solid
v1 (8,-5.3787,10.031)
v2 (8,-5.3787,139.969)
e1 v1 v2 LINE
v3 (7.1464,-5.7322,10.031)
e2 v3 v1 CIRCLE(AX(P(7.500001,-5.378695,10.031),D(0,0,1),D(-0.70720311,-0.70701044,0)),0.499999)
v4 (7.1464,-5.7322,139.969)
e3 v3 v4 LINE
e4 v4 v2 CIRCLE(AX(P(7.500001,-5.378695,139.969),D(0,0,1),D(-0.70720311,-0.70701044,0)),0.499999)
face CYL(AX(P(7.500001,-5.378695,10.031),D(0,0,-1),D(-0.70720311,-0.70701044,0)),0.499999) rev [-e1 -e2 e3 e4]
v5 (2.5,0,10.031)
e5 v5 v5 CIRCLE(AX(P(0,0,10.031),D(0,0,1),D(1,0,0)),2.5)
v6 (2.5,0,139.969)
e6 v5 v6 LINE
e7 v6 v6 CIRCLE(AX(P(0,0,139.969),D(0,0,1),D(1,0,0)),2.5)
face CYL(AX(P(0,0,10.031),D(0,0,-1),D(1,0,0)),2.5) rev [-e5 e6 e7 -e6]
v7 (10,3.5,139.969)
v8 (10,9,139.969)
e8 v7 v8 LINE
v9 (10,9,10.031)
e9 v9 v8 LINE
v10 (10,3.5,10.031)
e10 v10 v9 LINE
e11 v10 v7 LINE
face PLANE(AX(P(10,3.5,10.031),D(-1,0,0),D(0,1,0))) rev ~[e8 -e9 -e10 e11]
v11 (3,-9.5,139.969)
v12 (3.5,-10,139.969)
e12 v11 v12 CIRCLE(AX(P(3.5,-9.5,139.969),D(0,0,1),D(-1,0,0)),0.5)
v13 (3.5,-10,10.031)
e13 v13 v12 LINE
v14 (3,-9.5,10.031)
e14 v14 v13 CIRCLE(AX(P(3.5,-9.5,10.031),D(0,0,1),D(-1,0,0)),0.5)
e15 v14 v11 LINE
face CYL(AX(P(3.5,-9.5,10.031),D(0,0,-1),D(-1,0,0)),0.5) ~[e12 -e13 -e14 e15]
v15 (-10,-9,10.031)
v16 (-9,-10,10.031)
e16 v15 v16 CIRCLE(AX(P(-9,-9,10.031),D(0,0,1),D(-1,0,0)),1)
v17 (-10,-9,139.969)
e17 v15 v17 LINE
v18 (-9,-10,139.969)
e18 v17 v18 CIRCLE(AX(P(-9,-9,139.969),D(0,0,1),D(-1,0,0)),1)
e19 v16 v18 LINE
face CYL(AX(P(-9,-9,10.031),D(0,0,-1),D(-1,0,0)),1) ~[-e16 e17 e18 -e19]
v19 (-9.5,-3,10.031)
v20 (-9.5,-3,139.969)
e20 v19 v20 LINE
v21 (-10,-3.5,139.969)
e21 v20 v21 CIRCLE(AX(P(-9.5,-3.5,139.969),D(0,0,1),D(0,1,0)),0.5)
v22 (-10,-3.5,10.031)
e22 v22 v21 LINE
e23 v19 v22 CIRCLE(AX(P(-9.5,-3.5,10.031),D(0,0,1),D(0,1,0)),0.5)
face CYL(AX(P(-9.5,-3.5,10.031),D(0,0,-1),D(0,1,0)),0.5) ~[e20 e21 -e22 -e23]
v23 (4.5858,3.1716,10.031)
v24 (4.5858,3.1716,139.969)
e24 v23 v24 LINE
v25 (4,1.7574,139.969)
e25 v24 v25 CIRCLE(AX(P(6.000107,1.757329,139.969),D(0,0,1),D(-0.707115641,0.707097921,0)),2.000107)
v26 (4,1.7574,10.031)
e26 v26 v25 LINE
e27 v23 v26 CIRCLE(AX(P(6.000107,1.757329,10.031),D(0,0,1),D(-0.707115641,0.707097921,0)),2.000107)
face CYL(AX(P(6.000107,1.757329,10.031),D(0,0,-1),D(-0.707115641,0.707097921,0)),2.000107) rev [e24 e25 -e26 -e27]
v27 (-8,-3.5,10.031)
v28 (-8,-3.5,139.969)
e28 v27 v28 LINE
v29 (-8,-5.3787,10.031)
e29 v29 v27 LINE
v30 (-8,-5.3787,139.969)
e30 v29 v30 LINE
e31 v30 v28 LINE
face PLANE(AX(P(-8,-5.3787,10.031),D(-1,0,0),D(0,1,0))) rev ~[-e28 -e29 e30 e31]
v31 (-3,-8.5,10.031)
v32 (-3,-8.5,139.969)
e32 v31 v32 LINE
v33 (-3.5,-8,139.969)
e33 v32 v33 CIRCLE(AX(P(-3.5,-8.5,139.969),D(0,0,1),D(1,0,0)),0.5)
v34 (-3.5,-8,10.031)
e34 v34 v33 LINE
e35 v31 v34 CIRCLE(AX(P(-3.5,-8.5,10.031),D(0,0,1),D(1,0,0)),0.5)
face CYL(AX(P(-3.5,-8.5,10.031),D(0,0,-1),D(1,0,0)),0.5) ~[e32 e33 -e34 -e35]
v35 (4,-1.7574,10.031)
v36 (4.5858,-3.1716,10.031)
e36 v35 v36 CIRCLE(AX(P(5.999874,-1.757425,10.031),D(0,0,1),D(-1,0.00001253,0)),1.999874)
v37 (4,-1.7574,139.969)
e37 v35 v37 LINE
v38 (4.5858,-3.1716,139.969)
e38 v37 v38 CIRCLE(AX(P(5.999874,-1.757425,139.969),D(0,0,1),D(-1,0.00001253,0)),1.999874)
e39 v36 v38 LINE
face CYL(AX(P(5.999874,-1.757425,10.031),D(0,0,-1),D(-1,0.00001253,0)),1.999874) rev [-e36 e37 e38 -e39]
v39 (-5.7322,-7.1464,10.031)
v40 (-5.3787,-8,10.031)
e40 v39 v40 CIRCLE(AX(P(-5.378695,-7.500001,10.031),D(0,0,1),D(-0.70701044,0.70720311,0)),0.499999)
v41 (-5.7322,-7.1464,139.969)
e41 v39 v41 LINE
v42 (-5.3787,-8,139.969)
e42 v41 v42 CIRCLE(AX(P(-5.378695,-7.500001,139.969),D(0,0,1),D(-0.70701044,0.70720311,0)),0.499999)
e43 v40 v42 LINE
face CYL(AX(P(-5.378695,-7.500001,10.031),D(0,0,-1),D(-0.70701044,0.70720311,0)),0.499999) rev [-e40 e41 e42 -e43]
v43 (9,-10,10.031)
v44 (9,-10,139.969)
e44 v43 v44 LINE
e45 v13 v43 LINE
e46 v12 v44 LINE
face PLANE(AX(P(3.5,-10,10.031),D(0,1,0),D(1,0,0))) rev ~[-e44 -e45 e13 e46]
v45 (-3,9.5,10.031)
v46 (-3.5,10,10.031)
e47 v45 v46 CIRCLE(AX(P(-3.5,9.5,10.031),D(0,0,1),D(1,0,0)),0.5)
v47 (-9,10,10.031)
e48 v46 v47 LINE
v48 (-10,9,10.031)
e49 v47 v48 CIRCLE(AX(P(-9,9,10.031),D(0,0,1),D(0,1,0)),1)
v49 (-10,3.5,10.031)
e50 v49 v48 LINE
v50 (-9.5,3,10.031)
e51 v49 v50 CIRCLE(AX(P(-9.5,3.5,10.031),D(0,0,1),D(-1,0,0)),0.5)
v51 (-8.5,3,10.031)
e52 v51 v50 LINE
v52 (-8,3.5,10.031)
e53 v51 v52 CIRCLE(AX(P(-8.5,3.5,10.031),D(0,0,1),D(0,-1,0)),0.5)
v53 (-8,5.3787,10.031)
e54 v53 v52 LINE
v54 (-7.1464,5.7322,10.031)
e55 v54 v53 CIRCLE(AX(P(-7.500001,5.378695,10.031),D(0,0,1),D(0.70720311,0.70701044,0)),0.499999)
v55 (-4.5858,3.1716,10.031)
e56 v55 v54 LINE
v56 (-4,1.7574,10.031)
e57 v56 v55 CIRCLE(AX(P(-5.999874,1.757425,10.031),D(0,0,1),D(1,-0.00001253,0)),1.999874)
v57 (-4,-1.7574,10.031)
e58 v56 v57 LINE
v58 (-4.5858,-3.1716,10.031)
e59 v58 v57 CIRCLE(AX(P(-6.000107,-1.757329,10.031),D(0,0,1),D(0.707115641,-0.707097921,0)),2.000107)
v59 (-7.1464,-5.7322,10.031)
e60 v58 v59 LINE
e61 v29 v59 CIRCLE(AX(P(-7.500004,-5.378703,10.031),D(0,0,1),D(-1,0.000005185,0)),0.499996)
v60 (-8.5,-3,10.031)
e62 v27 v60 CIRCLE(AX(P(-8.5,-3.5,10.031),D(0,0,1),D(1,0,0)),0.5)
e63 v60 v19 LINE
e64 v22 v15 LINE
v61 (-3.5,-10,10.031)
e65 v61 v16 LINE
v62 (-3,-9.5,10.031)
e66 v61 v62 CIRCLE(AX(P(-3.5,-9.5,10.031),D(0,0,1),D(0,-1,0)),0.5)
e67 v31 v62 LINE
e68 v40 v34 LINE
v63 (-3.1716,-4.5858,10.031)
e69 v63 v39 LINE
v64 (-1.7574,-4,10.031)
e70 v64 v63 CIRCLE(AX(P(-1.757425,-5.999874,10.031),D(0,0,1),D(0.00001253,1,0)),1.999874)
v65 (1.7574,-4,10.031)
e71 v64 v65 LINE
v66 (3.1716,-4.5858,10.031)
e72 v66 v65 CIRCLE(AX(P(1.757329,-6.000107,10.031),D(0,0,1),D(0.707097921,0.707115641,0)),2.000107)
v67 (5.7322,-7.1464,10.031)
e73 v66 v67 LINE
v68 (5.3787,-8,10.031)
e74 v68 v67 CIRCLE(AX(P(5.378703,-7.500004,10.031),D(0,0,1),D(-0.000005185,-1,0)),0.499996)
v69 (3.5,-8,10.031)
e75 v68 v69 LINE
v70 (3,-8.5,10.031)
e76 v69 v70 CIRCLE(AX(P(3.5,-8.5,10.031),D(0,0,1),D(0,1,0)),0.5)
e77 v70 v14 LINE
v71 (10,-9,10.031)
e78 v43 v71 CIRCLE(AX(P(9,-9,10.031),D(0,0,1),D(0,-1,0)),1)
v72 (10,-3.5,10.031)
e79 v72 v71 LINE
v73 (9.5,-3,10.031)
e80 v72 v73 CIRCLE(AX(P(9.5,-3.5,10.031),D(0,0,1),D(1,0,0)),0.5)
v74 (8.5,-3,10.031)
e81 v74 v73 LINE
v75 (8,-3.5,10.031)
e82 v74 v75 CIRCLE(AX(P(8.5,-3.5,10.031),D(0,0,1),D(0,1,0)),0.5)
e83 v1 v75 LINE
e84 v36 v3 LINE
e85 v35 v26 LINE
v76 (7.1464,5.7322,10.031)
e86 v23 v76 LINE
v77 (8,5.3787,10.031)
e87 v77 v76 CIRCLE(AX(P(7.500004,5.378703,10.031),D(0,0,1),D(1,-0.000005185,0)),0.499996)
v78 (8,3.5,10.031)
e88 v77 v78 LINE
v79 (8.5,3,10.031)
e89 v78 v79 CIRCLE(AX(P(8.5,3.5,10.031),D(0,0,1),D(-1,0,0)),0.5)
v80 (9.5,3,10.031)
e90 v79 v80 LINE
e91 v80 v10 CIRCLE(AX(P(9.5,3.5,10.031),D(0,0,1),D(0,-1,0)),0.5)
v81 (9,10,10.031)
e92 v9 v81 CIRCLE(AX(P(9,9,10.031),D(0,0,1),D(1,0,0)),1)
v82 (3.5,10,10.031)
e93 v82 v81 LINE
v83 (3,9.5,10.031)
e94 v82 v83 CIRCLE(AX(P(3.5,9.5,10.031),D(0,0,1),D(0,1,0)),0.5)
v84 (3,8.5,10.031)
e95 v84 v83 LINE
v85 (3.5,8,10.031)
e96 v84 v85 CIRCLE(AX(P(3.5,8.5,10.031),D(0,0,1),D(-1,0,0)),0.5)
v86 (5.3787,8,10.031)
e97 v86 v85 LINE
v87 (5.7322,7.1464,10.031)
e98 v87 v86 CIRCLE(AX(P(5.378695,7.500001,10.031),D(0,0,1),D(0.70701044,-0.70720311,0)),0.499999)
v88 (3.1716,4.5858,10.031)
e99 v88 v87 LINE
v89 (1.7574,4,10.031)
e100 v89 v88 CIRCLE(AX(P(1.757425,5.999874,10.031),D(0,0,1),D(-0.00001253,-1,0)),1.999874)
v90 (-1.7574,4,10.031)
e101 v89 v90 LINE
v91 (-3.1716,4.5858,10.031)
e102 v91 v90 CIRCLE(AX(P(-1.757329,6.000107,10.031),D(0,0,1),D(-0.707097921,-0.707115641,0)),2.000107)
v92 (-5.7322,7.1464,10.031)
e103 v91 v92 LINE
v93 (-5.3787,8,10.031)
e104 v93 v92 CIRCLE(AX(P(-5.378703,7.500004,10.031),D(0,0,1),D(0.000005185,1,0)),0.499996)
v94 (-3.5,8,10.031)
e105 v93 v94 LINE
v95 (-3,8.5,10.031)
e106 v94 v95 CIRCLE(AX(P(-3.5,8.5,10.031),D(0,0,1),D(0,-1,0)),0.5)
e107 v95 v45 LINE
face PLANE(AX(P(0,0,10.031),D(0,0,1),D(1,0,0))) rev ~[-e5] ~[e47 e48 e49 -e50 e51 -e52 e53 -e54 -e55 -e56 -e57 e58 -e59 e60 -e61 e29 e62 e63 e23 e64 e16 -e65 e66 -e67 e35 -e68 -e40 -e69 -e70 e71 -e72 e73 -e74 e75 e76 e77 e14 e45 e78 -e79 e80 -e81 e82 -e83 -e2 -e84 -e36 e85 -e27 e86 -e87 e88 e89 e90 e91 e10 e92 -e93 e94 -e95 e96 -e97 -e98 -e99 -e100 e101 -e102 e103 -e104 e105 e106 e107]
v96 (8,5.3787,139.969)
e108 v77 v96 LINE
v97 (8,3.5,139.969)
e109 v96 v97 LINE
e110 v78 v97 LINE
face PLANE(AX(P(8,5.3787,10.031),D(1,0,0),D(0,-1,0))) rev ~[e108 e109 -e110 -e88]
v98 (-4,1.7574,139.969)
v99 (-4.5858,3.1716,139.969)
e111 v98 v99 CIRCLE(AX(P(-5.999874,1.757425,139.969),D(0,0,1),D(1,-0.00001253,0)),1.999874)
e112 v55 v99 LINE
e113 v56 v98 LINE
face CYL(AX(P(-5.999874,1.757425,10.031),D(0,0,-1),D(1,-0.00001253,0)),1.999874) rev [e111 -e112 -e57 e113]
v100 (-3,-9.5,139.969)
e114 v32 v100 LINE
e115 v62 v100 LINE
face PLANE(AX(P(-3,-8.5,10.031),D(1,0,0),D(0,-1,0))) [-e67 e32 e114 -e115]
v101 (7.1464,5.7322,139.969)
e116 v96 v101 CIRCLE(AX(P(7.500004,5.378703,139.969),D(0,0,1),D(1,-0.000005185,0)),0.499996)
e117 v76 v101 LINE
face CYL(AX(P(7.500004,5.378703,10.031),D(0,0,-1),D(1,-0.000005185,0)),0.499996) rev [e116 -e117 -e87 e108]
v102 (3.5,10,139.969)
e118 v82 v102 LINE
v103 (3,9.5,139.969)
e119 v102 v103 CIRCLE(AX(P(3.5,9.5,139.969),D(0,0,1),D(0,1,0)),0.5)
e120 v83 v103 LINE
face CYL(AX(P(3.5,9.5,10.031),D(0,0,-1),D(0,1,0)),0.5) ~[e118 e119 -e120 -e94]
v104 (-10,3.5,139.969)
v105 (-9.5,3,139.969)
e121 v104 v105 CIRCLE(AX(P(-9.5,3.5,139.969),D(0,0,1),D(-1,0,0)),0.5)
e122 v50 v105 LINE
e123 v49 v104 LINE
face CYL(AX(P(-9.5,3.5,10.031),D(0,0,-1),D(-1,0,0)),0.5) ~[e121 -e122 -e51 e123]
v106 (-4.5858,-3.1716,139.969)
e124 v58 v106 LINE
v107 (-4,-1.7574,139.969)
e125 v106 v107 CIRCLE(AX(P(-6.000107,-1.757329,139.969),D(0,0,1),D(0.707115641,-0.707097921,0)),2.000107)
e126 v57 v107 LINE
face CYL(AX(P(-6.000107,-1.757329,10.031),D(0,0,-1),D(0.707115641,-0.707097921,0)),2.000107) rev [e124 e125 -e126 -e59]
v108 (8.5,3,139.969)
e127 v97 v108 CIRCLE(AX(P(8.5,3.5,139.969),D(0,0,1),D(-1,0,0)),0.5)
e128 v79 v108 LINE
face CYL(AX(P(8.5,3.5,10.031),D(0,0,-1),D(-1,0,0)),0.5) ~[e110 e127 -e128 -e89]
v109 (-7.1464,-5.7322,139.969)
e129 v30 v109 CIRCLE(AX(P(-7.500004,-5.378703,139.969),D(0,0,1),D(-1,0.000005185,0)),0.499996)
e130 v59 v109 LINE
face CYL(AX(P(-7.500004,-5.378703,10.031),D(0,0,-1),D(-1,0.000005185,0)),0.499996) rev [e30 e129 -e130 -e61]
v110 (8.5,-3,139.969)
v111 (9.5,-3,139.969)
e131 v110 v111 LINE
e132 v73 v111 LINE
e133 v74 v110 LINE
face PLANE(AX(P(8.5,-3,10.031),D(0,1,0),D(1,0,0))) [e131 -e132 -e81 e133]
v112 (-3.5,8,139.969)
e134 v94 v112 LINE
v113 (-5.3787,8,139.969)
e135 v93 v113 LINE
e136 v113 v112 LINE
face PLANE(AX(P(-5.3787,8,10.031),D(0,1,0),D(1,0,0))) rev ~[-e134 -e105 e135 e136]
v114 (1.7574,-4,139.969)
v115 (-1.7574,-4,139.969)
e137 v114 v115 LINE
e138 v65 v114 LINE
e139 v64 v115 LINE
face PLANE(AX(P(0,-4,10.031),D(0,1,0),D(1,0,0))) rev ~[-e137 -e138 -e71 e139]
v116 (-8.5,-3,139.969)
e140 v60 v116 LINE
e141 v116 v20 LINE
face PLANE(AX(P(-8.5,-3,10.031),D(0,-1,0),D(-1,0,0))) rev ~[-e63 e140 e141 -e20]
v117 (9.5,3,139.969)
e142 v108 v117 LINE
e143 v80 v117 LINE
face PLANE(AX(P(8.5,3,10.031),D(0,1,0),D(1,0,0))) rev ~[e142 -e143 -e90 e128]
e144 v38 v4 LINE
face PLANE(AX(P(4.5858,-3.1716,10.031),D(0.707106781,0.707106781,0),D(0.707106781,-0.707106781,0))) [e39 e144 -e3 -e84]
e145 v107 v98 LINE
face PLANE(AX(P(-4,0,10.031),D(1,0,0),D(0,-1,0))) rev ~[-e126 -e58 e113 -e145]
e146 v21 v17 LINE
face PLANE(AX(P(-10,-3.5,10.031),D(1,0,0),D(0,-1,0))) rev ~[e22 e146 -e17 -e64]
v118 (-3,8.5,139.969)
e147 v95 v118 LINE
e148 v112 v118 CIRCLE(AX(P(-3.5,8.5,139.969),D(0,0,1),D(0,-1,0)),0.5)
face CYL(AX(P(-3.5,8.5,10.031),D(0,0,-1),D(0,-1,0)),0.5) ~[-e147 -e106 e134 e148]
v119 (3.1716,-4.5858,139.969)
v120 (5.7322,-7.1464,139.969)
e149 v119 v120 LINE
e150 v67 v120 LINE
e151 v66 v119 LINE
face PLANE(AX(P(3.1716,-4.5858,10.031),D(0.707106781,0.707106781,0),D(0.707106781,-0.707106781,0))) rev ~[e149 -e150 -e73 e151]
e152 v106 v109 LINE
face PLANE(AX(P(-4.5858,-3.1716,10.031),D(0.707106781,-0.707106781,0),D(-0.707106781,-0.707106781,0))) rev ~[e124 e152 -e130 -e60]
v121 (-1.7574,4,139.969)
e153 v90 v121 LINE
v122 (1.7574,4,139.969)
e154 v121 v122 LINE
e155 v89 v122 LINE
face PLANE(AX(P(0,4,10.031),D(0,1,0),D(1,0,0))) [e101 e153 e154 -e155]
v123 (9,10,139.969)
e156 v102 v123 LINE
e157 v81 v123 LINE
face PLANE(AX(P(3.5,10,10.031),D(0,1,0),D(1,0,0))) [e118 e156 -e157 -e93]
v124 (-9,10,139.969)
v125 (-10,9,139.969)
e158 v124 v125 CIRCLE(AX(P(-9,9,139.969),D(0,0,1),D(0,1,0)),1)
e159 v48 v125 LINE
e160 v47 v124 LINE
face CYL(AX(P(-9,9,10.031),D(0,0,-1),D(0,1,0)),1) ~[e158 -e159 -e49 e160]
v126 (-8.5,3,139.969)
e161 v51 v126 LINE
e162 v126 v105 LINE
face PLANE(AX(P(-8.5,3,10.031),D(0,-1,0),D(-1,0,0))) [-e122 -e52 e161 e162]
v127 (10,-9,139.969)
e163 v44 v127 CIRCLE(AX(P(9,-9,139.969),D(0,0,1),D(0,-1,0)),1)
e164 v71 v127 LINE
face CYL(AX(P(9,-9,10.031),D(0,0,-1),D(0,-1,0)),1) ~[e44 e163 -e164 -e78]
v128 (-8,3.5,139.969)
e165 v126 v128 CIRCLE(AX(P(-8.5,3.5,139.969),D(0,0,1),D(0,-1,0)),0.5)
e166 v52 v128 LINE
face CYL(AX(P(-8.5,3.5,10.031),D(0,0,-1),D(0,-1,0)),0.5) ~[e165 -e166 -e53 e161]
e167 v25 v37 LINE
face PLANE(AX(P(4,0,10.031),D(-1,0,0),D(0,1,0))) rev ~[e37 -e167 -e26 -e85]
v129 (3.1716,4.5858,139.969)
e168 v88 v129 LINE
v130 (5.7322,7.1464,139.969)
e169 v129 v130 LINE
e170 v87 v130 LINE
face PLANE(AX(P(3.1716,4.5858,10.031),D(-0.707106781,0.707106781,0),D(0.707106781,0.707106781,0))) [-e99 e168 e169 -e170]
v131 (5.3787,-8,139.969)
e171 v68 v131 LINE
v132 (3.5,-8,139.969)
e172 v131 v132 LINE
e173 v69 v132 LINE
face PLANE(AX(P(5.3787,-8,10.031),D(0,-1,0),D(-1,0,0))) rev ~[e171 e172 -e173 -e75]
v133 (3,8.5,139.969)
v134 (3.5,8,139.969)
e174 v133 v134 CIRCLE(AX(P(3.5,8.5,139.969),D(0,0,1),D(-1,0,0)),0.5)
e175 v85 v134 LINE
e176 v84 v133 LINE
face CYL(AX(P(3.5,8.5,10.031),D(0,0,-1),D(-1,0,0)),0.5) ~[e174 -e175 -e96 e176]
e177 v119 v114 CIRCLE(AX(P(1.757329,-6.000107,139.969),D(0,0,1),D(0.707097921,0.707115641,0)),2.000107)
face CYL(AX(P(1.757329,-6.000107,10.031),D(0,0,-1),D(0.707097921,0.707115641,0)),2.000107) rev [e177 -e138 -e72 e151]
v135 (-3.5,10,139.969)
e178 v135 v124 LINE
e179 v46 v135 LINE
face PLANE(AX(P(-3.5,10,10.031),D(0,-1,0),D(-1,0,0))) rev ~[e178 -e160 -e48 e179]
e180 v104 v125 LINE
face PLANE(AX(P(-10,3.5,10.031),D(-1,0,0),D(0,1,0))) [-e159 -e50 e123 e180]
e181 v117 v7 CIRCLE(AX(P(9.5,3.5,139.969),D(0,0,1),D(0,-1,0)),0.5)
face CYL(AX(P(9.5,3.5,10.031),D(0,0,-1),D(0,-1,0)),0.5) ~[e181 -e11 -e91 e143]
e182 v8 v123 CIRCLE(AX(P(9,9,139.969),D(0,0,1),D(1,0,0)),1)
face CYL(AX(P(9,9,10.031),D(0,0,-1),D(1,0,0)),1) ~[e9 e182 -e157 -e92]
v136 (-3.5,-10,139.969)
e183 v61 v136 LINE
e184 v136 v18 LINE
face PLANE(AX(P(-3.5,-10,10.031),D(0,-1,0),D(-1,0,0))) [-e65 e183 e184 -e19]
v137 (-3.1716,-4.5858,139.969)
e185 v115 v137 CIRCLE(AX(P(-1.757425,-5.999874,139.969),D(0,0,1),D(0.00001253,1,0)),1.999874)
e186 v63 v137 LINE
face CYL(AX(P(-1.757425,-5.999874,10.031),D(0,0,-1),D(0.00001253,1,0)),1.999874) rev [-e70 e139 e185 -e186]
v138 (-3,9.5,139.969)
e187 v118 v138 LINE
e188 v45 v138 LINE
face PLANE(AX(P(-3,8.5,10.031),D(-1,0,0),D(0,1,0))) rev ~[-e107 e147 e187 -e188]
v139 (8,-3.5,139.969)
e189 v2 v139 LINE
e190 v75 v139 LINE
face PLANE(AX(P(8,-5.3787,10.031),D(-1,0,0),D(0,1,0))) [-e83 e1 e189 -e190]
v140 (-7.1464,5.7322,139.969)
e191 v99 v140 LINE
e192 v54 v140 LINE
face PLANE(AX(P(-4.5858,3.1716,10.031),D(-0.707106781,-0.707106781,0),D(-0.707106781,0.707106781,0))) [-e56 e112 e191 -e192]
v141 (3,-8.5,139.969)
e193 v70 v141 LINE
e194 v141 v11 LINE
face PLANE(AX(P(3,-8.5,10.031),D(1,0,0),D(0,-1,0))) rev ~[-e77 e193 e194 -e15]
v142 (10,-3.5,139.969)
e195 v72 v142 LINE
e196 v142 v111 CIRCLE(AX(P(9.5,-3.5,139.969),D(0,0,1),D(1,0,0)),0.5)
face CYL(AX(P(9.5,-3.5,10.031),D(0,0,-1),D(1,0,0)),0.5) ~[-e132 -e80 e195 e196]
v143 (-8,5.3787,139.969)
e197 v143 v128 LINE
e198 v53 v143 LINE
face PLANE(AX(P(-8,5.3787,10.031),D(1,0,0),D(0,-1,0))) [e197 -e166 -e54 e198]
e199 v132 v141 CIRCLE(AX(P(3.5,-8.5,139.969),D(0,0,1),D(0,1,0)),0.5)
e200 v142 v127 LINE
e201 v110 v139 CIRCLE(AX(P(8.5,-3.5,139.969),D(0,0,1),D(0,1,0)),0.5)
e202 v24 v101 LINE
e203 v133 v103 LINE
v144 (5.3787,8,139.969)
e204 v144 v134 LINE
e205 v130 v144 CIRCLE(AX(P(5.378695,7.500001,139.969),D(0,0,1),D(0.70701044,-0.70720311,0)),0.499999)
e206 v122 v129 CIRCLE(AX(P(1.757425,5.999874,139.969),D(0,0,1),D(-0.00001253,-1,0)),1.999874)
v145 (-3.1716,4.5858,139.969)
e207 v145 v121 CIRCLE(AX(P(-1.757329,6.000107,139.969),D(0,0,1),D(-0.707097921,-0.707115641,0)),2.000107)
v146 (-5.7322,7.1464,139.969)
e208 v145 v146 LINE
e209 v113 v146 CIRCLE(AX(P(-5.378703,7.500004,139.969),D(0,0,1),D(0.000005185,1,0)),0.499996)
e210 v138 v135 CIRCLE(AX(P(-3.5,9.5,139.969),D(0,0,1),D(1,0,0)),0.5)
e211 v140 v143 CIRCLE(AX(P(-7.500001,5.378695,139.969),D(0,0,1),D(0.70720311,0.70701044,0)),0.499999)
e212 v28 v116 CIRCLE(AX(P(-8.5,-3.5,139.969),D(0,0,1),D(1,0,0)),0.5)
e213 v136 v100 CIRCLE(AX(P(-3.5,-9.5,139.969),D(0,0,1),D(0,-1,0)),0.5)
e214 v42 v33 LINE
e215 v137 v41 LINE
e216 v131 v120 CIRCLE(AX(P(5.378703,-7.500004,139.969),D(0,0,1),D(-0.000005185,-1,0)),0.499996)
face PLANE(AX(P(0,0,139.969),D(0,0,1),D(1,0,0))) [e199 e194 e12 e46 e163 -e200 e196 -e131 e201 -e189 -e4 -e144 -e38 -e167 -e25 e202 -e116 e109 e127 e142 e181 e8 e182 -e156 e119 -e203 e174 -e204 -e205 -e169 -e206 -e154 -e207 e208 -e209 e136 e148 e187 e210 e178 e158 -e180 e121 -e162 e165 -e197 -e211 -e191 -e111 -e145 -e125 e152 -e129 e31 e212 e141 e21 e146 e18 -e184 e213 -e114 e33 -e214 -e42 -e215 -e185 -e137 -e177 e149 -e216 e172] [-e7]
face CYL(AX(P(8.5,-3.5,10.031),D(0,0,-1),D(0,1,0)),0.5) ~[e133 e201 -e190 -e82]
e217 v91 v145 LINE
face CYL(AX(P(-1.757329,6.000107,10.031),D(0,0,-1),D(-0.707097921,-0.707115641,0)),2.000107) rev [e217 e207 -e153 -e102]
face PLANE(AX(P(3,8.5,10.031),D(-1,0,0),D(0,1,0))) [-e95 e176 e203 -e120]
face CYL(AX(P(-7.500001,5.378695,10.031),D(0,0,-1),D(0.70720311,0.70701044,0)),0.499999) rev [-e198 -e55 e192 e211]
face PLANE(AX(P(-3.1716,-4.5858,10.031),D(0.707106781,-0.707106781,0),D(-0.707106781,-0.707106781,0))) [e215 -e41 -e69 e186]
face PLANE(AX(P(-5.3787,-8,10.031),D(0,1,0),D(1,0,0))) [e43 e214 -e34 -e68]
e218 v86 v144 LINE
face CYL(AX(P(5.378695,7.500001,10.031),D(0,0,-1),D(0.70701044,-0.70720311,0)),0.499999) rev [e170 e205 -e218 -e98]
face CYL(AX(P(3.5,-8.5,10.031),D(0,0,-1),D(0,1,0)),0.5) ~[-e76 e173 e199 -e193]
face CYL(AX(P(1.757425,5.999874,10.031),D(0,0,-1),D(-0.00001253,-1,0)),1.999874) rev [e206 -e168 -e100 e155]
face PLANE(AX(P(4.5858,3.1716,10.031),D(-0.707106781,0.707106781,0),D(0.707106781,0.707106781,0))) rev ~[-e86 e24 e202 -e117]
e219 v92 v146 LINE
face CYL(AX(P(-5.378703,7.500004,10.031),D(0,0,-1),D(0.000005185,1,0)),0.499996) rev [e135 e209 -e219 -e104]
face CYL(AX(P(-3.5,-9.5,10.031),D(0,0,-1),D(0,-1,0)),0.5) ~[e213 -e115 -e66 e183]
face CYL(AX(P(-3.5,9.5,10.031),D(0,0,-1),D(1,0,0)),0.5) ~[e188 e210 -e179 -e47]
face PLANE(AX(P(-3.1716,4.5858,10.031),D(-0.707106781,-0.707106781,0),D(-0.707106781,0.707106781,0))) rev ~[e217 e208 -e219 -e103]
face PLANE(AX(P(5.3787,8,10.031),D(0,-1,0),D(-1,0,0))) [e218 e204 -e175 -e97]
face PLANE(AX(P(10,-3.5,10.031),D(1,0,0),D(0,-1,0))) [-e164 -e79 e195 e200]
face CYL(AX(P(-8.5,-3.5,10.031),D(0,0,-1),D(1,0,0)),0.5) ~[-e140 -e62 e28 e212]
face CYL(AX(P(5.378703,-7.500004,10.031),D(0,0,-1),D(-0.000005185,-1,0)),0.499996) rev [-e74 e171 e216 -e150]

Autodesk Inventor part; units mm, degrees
ref_plane "Start Plane" through (0, 0, 10.031) normal (0, 0, 1) x (1, 0, 0)
ref_plane "End Plane" through (0, 0, 139.969) normal (0, 0, 1) x (1, 0, 0)
sketch "Sketch" plane through (0, 0, 0) normal (0, 0, 1) x (1, 0, 0)
  line L0 (0, 0) -> (2.5, 0) construction
  line L1 (0, 0) -> (0, 2.5) construction
  line L2 (0, 4) -> (0, -4) construction
  line L3 (0, 4) -> (1.7574, 4)
  arc A0 (1.7574, 4) -> (3.1716, 4.5858) centre (1.7574, 6) ccw
  line L4 (3.1716, 4.5858) -> (5.7322, 7.1464)
  line L5 (-4, 0) -> (4, 0) construction
  line L6 (4, 0) -> (4, 1.7574)
  arc A1 (4.5858, 3.1716) -> (4, 1.7574) centre (6, 1.7574) ccw
  line L7 (4.5858, 3.1716) -> (7.1464, 5.7322)
  line L8 (0, 0) -> (10, 10) construction
  line L9 (0, 0) -> (19.6827, 0) construction
  arc A2 (8, 5.3787) -> (7.1464, 5.7322) centre (7.5, 5.3787) ccw
  line L10 (8, 5.3787) -> (8, 3.5)
  arc A3 (8, 3.5) -> (8.5, 3) centre (8.5, 3.5) ccw
  line L11 (8.5, 3) -> (9.5, 3)
  arc A4 (9.5, 3) -> (10, 3.5) centre (9.5, 3.5) ccw
  line L12 (10, 3.5) -> (10, 9)
  line L13 (10, 9) -> (10, 10) construction
  arc A5 (5.7322, 7.1464) -> (5.3787, 8) centre (5.3787, 7.5) ccw
  line L14 (5.3787, 8) -> (3.5, 8)
  arc A6 (3, 8.5) -> (3.5, 8) centre (3.5, 8.5) ccw
  line L15 (3, 8.5) -> (3, 9.5)
  arc A7 (3.5, 10) -> (3, 9.5) centre (3.5, 9.5) ccw
  line L16 (3.5, 10) -> (9, 10)
  arc A8 (10, 9) -> (9, 10) centre (9, 9) ccw
  line L17 (0, 4) -> (-1.7574, 4)
  arc A9 (-3.1716, 4.5858) -> (-1.7574, 4) centre (-1.7574, 6) ccw
  line L18 (-3.1716, 4.5858) -> (-5.7322, 7.1464)
  line L19 (-4, 0) -> (-4, 1.7574)
  arc A10 (-4, 1.7574) -> (-4.5858, 3.1716) centre (-6, 1.7574) ccw
  line L20 (-4.5858, 3.1716) -> (-7.1464, 5.7322)
  arc A11 (-7.1464, 5.7322) -> (-8, 5.3787) centre (-7.5, 5.3787) ccw
  line L21 (-8, 5.3787) -> (-8, 3.5)
  arc A12 (-8.5, 3) -> (-8, 3.5) centre (-8.5, 3.5) ccw
  line L22 (-8.5, 3) -> (-9.5, 3)
  arc A13 (-10, 3.5) -> (-9.5, 3) centre (-9.5, 3.5) ccw
  line L23 (-10, 3.5) -> (-10, 9)
  arc A14 (-5.3787, 8) -> (-5.7322, 7.1464) centre (-5.3787, 7.5) ccw
  line L24 (-5.3787, 8) -> (-3.5, 8)
  arc A15 (-3.5, 8) -> (-3, 8.5) centre (-3.5, 8.5) ccw
  line L25 (-3, 8.5) -> (-3, 9.5)
  arc A16 (-3, 9.5) -> (-3.5, 10) centre (-3.5, 9.5) ccw
  line L26 (-3.5, 10) -> (-9, 10)
  arc A17 (-9, 10) -> (-10, 9) centre (-9, 9) ccw
  line L27 (0, -4) -> (-1.7574, -4)
  arc A18 (-1.7574, -4) -> (-3.1716, -4.5858) centre (-1.7574, -6) ccw
  line L28 (-3.1716, -4.5858) -> (-5.7322, -7.1464)
  arc A19 (-5.7322, -7.1464) -> (-5.3787, -8) centre (-5.3787, -7.5) ccw
  line L29 (-5.3787, -8) -> (-3.5, -8)
  arc A20 (-3, -8.5) -> (-3.5, -8) centre (-3.5, -8.5) ccw
  line L30 (-3, -8.5) -> (-3, -9.5)
  arc A21 (-3.5, -10) -> (-3, -9.5) centre (-3.5, -9.5) ccw
  line L31 (-3.5, -10) -> (-9, -10)
  arc A22 (-10, -9) -> (-9, -10) centre (-9, -9) ccw
  line L32 (-10, -3.5) -> (-10, -9)
  arc A23 (-9.5, -3) -> (-10, -3.5) centre (-9.5, -3.5) ccw
  line L33 (-8.5, -3) -> (-9.5, -3)
  arc A24 (-8, -3.5) -> (-8.5, -3) centre (-8.5, -3.5) ccw
  line L34 (-8, -5.3787) -> (-8, -3.5)
  arc A25 (-8, -5.3787) -> (-7.1464, -5.7322) centre (-7.5, -5.3787) ccw
  line L35 (-4.5858, -3.1716) -> (-7.1464, -5.7322)
  arc A26 (-4.5858, -3.1716) -> (-4, -1.7574) centre (-6, -1.7574) ccw
  line L36 (-4, 0) -> (-4, -1.7574)
  line L37 (3.5, -10) -> (9, -10)
  arc A27 (9, -10) -> (10, -9) centre (9, -9) ccw
  line L38 (10, -3.5) -> (10, -9)
  arc A28 (10, -3.5) -> (9.5, -3) centre (9.5, -3.5) ccw
  line L39 (8.5, -3) -> (9.5, -3)
  arc A29 (8.5, -3) -> (8, -3.5) centre (8.5, -3.5) ccw
  line L40 (8, -5.3787) -> (8, -3.5)
  arc A30 (7.1464, -5.7322) -> (8, -5.3787) centre (7.5, -5.3787) ccw
  line L41 (4.5858, -3.1716) -> (7.1464, -5.7322)
  arc A31 (4, -1.7574) -> (4.5858, -3.1716) centre (6, -1.7574) ccw
  line L42 (4, 0) -> (4, -1.7574)
  line L43 (5.3787, -8) -> (3.5, -8)
  arc A32 (5.3787, -8) -> (5.7322, -7.1464) centre (5.3787, -7.5) ccw
  line L44 (3.1716, -4.5858) -> (5.7322, -7.1464)
  arc A33 (3.1716, -4.5858) -> (1.7574, -4) centre (1.7574, -6) ccw
  line L45 (0, -4) -> (1.7574, -4)
  arc A34 (3.5, -8) -> (3, -8.5) centre (3.5, -8.5) ccw
  line L46 (3, -8.5) -> (3, -9.5)
  arc A35 (3, -9.5) -> (3.5, -10) centre (3.5, -9.5) ccw
  circle A36 centre (0, 0) radius 2.5
  dimension "d1" = 8
  dimension "d2" = 2
  dimension "d3" = 8
  dimension "d4" = 2
  dimension "d5" = 2
  dimension "d7" = 45
  dimension "d8" = 0.5
  dimension "d9" = 0.5
  dimension "d10" = 0.5
  dimension "d12" = 2
  dimension "d17" = 7
  dimension "d18" = 10
  dimension "d19" = 0.5
  dimension "d20" = 1
  dimension "d21" = 0.5
  dimension "d22" = 0.5
  dimension "d23" = 2
  dimension "d24" = 7
  dimension "d25" = 5
extrude "Body" add sketch "Sketch" along normal up to surface (129.938 mm away) from surface at 10.031
sketch "Sketch6" plane through (0, 0, 0) normal (0, 0, 1) x (1, 0, 0)
  line L0 (0, 0) -> (10, 0)
ref_plane "Work Plane5" through (0, 0, 0) normal (0, -1, 0) x (1, 0, 0)
sketch "Sketch7" plane through (0, 0, 0) normal (0, -1, 0) x (1, 0, 0)
  line L0 (-2, 10.031) -> (12, 10.031)
  line L1 (-2, 139.969) -> (12, 139.969)
  dimension "d33" = 129.938
ref_plane "Work Plane6" through (100, 9, 139.969) normal (0, 0, 1) x (1, 0, 0)
split "Split1" plane through (100, 9, 139.969) removes the side toward (0, 0, 1)
ref_plane "Work Plane7" through (-400, 9, 10.031) normal (0, 0, -1) x (-1, 0, 0)
split "Split2" plane through (-400, 9, 10.031) removes the side toward (0, 0, -1)
equation "\"d1\" = 8 * sigma"
equation "\"d2\" = 2 * sigma"
equation "\"d3\" = 8 * sigma"
equation "\"d4\" = 2 * sigma"
equation "\"d5\" = 2 * sigma"
equation "\"d8\" = 0.5 * sigma"
equation "\"d9\" = 0.5 * sigma"
equation "\"d10\" = 0.5 * sigma"
equation "\"d12\" = 2 * sigma"
equation "\"d17\" = 7 * sigma"
equation "\"d18\" = sigma"
equation "\"d19\" = 0.5 * sigma"
equation "\"d20\" = sigma"
equation "\"d21\" = 0.5 * sigma"
equation "\"d22\" = 0.5 * sigma"
equation "\"d23\" = 2 * sigma"
equation "\"d24\" = 7 * sigma"
equation "\"d25\" = 5 * sigma"
equation "\"sigma\" = 1"
equation "\"G_OFFSET_START\" = -10.031"
equation "\"G_OFFSET_END\" = -10.031"
equation "\"d28\" = -G_OFFSET_START"
equation "\"d29\" = Length + G_OFFSET_END"
equation "\"G_L\" = d33"
equation "\"Length\" = 150"
properties part number "A3.3-MEM"
